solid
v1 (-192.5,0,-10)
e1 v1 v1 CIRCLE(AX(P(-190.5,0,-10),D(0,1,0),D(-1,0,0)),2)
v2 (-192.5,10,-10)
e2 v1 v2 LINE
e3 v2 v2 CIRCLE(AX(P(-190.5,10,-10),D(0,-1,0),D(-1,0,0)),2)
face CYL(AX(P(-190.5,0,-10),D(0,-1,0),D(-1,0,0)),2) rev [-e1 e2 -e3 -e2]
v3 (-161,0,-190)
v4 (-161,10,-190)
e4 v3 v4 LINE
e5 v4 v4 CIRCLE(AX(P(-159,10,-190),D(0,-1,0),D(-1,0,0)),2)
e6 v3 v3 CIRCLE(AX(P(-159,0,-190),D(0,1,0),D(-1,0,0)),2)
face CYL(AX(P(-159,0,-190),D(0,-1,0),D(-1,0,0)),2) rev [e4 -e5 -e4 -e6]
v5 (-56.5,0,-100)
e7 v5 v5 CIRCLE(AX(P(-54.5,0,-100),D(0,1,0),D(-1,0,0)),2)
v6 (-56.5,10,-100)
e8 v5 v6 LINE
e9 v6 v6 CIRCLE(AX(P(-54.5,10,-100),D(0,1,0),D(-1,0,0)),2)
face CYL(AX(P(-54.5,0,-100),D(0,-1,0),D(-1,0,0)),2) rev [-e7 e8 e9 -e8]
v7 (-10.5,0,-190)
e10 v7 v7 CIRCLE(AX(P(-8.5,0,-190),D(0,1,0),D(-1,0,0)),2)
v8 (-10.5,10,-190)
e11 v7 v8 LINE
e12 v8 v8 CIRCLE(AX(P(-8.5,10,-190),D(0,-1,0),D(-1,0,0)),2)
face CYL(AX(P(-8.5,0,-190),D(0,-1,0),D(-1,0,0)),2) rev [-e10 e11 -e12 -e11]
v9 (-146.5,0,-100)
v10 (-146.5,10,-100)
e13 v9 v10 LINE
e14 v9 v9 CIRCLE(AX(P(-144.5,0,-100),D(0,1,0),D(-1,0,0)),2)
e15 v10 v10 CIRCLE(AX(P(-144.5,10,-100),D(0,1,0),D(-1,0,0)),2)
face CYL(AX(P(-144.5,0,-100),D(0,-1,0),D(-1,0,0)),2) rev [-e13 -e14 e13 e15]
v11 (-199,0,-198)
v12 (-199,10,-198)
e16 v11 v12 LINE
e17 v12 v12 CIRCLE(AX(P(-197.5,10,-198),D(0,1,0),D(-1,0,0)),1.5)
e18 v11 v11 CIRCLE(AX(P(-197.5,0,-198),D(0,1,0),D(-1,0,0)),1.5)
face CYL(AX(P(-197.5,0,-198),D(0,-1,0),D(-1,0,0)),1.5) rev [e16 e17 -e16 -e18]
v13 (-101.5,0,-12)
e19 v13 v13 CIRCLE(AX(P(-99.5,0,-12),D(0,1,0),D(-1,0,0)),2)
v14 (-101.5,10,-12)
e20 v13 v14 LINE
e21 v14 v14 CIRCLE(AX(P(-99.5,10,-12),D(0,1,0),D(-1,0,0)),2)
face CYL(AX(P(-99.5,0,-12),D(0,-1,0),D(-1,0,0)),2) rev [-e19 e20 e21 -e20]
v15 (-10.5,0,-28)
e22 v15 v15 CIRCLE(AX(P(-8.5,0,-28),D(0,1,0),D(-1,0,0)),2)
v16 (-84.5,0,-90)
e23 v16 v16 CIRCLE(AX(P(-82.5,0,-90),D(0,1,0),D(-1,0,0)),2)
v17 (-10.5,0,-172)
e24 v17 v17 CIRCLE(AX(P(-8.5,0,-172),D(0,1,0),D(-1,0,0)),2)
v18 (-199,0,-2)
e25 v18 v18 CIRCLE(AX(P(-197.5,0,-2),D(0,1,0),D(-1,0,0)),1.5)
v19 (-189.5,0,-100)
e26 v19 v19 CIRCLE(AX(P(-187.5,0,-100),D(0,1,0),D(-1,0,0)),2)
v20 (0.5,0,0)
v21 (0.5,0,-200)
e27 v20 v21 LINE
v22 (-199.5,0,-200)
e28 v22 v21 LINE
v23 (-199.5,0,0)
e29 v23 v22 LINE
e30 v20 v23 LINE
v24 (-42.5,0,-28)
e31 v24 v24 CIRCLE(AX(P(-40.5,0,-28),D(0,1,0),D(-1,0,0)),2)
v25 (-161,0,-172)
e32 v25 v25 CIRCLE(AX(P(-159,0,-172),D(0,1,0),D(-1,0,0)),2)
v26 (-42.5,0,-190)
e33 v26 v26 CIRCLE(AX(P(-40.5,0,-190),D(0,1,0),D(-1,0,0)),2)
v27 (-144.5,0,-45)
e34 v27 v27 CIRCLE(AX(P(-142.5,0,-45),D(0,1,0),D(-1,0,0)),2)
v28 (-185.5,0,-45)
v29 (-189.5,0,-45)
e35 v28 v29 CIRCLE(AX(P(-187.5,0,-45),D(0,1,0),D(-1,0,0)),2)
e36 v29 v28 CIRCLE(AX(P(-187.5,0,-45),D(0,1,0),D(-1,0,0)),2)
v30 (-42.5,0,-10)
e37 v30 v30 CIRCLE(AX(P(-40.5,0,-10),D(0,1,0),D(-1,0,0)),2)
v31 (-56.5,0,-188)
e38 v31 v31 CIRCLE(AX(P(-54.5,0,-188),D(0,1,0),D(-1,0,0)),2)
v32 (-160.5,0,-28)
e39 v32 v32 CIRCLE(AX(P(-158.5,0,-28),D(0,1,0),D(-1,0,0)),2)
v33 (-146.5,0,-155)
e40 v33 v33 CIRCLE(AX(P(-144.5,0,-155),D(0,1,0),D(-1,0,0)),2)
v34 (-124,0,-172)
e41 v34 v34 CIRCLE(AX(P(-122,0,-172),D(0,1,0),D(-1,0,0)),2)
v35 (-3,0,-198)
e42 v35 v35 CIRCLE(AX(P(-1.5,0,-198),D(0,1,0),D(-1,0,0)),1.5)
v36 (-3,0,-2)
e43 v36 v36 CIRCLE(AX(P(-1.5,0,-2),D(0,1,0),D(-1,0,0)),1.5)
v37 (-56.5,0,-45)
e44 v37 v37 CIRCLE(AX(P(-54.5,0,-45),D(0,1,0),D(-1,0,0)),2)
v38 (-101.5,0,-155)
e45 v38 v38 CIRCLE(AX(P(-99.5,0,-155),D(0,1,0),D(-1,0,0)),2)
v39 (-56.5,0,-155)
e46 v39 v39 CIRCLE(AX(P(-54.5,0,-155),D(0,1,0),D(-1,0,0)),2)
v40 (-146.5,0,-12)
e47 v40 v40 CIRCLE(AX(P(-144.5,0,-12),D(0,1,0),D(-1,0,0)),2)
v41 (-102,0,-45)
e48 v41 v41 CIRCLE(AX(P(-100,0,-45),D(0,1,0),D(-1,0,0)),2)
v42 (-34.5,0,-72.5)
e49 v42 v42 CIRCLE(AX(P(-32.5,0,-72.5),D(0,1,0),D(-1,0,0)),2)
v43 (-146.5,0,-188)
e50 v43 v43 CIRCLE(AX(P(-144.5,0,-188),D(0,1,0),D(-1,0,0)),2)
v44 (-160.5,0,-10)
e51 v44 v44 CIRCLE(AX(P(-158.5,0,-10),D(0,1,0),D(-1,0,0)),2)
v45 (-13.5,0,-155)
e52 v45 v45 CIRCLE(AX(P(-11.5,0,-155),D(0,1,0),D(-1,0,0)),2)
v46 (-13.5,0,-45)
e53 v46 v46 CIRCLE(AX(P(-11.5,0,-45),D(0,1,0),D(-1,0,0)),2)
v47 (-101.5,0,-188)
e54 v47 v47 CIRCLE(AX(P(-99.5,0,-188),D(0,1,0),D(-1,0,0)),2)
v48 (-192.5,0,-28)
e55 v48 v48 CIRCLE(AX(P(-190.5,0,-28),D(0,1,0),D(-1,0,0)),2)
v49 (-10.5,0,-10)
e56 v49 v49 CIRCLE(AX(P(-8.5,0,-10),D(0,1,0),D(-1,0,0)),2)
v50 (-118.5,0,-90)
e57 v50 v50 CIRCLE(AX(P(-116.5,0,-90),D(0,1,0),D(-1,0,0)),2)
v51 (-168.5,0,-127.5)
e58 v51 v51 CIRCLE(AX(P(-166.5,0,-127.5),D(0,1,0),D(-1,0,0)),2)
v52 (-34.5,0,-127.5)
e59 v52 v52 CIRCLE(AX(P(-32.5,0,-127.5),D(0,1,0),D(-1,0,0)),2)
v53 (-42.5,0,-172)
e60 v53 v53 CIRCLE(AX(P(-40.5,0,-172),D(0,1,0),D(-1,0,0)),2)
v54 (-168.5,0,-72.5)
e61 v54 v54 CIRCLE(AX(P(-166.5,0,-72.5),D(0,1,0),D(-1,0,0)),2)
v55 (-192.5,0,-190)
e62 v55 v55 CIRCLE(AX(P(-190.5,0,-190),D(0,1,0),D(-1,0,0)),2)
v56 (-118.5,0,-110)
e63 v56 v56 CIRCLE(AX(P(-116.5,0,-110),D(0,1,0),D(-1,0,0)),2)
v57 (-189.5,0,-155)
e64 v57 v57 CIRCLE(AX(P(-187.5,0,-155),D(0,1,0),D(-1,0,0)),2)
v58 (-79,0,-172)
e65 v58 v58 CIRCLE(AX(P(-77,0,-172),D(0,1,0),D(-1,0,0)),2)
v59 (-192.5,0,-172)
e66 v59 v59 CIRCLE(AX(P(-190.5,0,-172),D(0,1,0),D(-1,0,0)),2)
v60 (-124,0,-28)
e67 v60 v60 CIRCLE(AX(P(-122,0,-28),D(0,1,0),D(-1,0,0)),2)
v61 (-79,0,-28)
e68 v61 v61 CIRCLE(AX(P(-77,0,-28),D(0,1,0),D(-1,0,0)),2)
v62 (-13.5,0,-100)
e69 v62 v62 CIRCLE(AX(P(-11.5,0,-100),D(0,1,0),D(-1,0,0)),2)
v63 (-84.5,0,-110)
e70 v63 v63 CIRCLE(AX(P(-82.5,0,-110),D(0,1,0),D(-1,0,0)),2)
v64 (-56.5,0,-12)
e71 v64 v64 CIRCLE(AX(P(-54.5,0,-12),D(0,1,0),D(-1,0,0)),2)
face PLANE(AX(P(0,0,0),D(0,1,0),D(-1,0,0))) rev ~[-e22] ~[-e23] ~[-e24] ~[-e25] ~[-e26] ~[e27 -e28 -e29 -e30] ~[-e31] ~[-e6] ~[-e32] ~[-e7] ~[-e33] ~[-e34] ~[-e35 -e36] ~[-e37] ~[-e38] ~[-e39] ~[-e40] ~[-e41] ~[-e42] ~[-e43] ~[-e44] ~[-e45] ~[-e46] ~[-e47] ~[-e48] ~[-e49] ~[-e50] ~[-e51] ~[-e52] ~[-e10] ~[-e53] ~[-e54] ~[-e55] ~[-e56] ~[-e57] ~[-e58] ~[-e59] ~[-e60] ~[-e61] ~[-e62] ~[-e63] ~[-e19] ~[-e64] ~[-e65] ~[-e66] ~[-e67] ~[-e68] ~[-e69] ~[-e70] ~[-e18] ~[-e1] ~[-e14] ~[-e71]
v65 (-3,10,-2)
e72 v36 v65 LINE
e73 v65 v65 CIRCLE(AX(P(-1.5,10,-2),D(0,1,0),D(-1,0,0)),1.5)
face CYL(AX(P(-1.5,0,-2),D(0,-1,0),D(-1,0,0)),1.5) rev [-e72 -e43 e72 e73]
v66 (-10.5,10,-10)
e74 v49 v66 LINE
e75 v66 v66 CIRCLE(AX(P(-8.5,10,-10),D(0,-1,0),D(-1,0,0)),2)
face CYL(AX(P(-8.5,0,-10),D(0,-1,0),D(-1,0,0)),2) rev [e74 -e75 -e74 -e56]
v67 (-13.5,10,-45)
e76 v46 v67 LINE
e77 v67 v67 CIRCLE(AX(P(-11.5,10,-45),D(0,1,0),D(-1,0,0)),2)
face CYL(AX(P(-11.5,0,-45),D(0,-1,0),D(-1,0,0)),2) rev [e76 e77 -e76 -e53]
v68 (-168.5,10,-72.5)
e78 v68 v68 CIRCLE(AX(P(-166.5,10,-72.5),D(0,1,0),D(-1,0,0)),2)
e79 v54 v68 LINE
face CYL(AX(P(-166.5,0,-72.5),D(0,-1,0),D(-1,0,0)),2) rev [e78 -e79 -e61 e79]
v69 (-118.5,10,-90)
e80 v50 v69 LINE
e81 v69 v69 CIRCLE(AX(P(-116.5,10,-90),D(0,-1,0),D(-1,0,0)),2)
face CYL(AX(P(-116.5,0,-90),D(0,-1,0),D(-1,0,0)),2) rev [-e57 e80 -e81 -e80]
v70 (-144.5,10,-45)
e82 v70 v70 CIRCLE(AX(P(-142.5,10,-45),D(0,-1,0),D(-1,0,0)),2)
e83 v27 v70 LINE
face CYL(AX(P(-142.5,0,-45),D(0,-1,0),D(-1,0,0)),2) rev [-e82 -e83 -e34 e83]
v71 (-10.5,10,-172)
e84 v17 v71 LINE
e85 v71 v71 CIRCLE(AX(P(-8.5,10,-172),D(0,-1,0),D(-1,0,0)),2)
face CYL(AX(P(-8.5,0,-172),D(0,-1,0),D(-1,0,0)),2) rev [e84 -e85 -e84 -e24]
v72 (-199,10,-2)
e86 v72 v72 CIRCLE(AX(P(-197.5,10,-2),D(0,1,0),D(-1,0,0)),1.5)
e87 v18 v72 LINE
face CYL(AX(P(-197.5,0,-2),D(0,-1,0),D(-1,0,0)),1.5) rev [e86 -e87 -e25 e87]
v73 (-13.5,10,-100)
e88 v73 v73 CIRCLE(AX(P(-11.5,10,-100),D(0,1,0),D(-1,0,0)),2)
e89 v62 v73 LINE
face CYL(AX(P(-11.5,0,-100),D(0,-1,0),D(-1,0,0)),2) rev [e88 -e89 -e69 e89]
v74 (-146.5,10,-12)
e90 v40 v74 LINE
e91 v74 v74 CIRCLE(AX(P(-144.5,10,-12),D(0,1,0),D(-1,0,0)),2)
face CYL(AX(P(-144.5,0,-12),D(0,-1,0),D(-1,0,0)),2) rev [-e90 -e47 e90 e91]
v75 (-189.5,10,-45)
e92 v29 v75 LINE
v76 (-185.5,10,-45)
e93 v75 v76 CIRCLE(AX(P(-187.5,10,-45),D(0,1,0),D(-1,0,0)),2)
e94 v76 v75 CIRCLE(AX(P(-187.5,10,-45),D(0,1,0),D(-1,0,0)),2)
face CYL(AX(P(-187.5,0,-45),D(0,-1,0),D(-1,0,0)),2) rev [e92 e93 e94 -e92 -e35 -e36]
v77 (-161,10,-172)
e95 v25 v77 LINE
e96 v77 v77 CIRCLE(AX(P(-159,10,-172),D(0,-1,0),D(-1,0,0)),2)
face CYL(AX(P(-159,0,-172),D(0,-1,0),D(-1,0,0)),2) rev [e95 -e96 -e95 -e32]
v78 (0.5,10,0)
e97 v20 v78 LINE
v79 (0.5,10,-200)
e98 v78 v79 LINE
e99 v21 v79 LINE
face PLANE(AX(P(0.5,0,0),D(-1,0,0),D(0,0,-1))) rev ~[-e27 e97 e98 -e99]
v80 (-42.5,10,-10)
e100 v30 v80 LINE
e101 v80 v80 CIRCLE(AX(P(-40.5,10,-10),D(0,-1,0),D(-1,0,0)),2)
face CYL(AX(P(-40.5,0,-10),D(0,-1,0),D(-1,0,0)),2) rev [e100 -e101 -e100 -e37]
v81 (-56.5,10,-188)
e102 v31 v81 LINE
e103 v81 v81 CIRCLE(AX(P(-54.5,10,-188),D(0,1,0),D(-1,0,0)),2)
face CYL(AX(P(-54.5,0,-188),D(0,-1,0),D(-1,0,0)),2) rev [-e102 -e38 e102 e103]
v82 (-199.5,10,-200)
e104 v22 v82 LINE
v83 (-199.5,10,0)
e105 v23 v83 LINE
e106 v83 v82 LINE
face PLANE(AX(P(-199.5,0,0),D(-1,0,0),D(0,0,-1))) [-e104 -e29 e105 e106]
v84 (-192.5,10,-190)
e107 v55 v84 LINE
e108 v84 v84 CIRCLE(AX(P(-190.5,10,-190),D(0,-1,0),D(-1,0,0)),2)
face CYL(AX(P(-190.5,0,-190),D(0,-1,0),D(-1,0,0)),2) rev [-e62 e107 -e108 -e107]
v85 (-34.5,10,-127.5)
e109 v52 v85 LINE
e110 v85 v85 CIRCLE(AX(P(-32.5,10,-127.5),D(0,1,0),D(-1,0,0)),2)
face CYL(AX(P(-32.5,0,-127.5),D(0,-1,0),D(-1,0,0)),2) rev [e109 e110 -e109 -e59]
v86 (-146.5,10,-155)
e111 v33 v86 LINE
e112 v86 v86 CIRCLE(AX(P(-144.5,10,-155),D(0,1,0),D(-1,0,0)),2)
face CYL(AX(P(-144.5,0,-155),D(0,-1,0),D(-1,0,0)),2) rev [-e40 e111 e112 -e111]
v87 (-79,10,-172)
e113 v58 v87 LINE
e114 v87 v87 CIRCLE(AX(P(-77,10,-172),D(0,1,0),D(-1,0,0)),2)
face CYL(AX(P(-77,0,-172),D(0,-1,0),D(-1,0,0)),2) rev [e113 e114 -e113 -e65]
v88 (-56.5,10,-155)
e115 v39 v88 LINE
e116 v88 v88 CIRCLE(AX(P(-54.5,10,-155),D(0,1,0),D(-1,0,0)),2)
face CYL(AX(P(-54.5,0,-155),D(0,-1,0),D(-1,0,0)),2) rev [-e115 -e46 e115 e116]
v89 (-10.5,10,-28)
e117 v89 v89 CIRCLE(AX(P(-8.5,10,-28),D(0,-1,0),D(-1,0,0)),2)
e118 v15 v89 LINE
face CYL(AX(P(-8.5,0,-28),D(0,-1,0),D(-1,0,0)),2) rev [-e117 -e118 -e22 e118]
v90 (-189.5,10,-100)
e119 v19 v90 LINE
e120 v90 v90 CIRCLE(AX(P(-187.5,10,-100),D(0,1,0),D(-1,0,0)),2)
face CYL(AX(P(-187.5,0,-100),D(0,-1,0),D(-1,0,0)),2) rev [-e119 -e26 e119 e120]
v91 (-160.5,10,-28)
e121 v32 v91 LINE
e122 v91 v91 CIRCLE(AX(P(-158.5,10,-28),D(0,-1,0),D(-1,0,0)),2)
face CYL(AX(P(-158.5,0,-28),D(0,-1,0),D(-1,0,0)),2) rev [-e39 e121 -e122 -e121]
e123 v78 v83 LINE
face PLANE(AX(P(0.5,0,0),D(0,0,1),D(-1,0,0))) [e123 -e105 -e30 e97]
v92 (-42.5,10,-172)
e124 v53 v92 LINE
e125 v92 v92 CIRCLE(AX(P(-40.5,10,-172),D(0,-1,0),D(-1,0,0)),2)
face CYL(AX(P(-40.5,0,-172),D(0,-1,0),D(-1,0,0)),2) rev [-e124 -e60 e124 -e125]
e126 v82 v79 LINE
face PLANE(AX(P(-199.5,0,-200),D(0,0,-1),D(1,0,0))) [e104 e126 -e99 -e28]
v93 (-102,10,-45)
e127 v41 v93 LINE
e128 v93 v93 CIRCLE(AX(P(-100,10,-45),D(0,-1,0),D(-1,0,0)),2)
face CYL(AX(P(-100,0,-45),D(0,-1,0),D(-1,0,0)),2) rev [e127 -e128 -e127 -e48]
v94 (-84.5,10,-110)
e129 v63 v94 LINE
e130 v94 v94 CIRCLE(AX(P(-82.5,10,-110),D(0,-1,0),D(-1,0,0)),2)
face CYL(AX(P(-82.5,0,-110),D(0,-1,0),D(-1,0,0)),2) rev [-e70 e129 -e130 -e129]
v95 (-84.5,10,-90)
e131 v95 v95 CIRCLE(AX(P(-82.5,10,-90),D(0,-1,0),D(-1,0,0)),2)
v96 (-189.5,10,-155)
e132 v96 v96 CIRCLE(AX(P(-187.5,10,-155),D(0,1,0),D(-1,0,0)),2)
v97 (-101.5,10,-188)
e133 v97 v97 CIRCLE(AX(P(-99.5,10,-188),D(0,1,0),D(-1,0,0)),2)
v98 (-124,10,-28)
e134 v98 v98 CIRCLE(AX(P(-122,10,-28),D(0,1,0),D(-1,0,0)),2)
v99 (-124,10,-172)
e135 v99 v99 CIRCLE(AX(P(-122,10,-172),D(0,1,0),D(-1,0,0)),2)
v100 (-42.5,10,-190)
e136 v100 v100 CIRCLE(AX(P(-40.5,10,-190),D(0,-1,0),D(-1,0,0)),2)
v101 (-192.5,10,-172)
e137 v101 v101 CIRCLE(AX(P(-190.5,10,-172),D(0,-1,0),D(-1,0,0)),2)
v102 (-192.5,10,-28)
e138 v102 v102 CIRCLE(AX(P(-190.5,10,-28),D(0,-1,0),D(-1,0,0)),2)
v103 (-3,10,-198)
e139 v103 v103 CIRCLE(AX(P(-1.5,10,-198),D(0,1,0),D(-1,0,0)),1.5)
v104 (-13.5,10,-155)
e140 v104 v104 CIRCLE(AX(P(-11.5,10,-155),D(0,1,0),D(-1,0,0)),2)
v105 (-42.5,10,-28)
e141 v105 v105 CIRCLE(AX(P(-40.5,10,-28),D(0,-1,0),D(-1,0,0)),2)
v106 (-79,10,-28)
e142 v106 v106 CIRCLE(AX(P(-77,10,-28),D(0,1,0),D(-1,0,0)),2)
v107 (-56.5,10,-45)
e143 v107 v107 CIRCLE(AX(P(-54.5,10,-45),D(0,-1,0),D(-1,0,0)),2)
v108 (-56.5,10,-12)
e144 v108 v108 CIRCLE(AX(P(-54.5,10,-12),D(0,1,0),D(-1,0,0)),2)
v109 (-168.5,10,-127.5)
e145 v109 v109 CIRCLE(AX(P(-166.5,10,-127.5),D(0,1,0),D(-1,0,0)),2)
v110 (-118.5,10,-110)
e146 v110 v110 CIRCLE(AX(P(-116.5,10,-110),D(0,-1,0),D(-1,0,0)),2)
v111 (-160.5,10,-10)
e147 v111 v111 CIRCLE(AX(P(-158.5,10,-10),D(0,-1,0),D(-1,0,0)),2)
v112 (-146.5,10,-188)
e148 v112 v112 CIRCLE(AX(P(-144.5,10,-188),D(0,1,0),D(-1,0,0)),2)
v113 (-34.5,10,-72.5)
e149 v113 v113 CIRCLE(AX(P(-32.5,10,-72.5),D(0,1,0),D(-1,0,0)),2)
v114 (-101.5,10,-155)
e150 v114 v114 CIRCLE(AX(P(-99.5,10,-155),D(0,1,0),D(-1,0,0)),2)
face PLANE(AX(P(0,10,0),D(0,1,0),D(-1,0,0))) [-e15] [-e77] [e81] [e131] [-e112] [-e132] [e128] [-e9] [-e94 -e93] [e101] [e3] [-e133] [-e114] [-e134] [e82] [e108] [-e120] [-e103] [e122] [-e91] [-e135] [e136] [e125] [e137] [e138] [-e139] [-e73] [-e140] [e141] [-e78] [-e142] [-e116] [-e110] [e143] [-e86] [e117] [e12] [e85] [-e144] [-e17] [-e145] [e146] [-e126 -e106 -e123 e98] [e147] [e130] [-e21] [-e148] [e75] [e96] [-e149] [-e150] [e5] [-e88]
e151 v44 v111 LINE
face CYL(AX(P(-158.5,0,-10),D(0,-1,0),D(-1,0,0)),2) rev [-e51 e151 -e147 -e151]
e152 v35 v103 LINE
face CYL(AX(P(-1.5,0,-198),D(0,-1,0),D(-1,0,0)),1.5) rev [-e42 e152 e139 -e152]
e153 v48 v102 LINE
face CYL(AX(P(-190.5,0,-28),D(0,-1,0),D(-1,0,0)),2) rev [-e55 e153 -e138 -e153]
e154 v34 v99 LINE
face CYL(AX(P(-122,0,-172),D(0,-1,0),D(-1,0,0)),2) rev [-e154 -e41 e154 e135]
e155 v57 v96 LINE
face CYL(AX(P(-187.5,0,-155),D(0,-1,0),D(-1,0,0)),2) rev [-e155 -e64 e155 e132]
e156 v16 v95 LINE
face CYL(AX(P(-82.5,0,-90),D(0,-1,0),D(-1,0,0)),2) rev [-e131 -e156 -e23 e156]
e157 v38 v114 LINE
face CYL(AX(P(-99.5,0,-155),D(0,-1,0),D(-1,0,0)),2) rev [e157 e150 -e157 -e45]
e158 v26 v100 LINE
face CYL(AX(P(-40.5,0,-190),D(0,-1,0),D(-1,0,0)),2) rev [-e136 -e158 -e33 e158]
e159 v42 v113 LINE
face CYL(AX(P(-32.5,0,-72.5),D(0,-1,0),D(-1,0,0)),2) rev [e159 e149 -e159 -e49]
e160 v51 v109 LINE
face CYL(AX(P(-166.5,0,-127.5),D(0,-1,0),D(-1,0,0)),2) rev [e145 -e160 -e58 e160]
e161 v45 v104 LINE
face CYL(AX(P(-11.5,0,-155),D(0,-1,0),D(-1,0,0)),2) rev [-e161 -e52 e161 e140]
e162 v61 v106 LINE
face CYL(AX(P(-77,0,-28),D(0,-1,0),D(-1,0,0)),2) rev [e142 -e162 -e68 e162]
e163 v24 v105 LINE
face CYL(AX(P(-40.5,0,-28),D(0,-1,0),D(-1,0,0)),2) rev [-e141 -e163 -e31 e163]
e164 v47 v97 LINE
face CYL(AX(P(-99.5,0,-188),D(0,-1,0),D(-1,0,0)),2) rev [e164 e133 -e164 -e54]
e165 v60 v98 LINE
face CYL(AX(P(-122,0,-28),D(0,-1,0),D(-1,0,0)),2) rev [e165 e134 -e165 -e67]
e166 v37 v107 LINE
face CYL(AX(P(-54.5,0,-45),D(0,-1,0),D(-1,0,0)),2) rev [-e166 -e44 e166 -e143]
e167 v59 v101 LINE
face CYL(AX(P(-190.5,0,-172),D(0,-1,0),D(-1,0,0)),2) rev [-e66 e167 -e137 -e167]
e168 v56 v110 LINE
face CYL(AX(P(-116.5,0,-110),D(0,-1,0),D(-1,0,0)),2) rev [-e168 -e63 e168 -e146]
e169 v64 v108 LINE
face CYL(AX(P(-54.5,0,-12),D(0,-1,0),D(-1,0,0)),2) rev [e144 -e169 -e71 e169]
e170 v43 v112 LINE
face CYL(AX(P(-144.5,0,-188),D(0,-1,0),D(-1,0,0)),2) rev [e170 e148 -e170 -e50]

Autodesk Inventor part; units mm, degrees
ref_plane "YZ Plane" through (0, 0, 0) normal (1, 0, 0) x (0, 1, 0)
ref_plane "XZ Plane" through (0, 0, 0) normal (0, 1, 0) x (-1, 0, 0)
ref_plane "XY Plane" through (0, 0, 0) normal (0, 0, 1) x (1, 0, 0)
sketch "Boceto1" plane through (0, 0, 0) normal (0, 1, 0) x (-1, 0, 0)
  line L0 (-0.5, 0) -> (199.5, 0)
  line L1 (199.5, 0) -> (199.5, -200)
  line L2 (199.5, -200) -> (-0.5, -200)
  line L3 (-0.5, 0) -> (-0.5, -200)
  line L4 (175, -50) -> (175, -150)
  line L5 (175, -150) -> (25, -150)
  line L6 (25, -150) -> (25, -50)
  line L7 (50, -175) -> (50, -25)
  line L8 (150, -175) -> (50, -175)
  line L9 (150, -25) -> (150, -175)
  line L10 (50, -25) -> (150, -25)
  line L11 (154.5, -5) -> (194.5, -5)
  line L12 (154.5, -5) -> (154.5, -33)
  line L13 (154.5, -33) -> (194.5, -33)
  line L14 (194.5, -33) -> (194.5, -5)
  line L15 (99.5, -100) -> (99.5, -105)
  line L16 (99.5, -105) -> (99.5, -95)
  line L17 (99.5, -95) -> (99.5, -100)
  line L18 (99.5, -100) -> (94.5, -100)
  line L19 (94.5, -100) -> (104.5, -100)
  line L20 (99.5, -100) -> (79.5, -100)
  line L21 (79.5, -100) -> (120.5, -100)
  line L22 (120.5, -100) -> (120.5, -120)
  line L23 (120.5, -120) -> (120.5, -80)
  line L24 (120.5, -80) -> (78.5, -80)
  line L25 (78.5, -80) -> (78.5, -120)
  line L26 (78.5, -120) -> (120.5, -120)
  line L27 (78.5, -80) -> (82.5, -80)
  line L28 (82.5, -80) -> (82.5, -120)
  line L29 (120.5, -120) -> (116.5, -120)
  line L30 (116.5, -120) -> (116.5, -80)
  line L31 (82.5, -80) -> (82.5, -90)
  line L32 (82.5, -90) -> (116.5, -90)
  line L33 (82.5, -120) -> (82.5, -110)
  line L34 (82.5, -110) -> (116.5, -110)
  circle A0 centre (82.5, -90) radius 2
  circle A1 centre (82.5, -110) radius 2
  circle A2 centre (116.5, -110) radius 2
  circle A3 centre (116.5, -90) radius 2
  line L35 (194.5, -5) -> (190.5, -5)
  line L36 (190.5, -5) -> (190.5, -33)
  line L37 (154.5, -5) -> (158.5, -5)
  line L38 (158.5, -5) -> (158.5, -33)
  line L39 (158.5, -5) -> (158.5, -10)
  line L40 (158.5, -33) -> (158.5, -28)
  line L41 (158.5, -28) -> (190.5, -28)
  line L42 (158.5, -10) -> (190.5, -10)
  circle A4 centre (190.5, -10) radius 2
  circle A5 centre (158.5, -10) radius 2
  circle A6 centre (158.5, -28) radius 2
  circle A7 centre (190.5, -28) radius 2
  line L43 (44.5, -5) -> (4.5, -5)
  line L44 (44.5, -5) -> (44.5, -33)
  line L45 (44.5, -33) -> (4.5, -33)
  line L46 (4.5, -33) -> (4.5, -5)
  line L47 (4.5, -5) -> (8.5, -5)
  line L48 (8.5, -5) -> (8.5, -33)
  line L49 (44.5, -5) -> (40.5, -5)
  line L50 (40.5, -5) -> (40.5, -33)
  line L51 (40.5, -5) -> (40.5, -10)
  line L52 (40.5, -33) -> (40.5, -28)
  line L53 (40.5, -28) -> (8.5, -28)
  line L54 (40.5, -10) -> (8.5, -10)
  circle A8 centre (8.5, -10) radius 2
  circle A9 centre (40.5, -10) radius 2
  circle A10 centre (40.5, -28) radius 2
  circle A11 centre (8.5, -28) radius 2
  line L55 (155, -195) -> (194.5, -195)
  line L56 (155, -195) -> (155, -167)
  line L57 (155, -167) -> (194.5, -167)
  line L58 (194.5, -167) -> (194.5, -195)
  line L59 (194.5, -195) -> (190.5, -195)
  line L60 (190.5, -195) -> (190.5, -167)
  line L61 (155, -195) -> (159, -195)
  line L62 (159, -195) -> (159, -167)
  line L63 (159, -195) -> (159, -190)
  line L64 (159, -167) -> (159, -172)
  line L65 (159, -172) -> (190.5, -172)
  line L66 (159, -190) -> (190.5, -190)
  circle A12 centre (190.5, -190) radius 2
  circle A13 centre (159, -190) radius 2
  circle A14 centre (159, -172) radius 2
  circle A15 centre (190.5, -172) radius 2
  line L67 (44.5, -195) -> (4.5, -195)
  line L68 (44.5, -195) -> (44.5, -167)
  circle A16 centre (40.5, -172) radius 2
  line L69 (44.5, -167) -> (4.5, -167)
  line L70 (4.5, -167) -> (4.5, -195)
  line L71 (40.5, -167) -> (40.5, -172)
  circle A17 centre (40.5, -190) radius 2
  line L72 (40.5, -195) -> (40.5, -167)
  line L73 (40.5, -195) -> (40.5, -190)
  line L74 (40.5, -172) -> (8.5, -172)
  circle A18 centre (8.5, -172) radius 2
  line L75 (40.5, -190) -> (8.5, -190)
  line L76 (8.5, -195) -> (8.5, -167)
  circle A19 centre (8.5, -190) radius 2
  line L77 (4.5, -195) -> (8.5, -195)
  line L78 (44.5, -195) -> (40.5, -195)
  circle A20 centre (187.5, -45) radius 2
  circle A21 centre (187.5, -100) radius 2
  circle A22 centre (187.5, -155) radius 2
  circle A23 centre (144.5, -188) radius 2
  circle A24 centre (99.5, -188) radius 2
  circle A25 centre (54.5, -188) radius 2
  circle A26 centre (11.5, -45) radius 2
  circle A27 centre (11.5, -100) radius 2
  circle A28 centre (11.5, -155) radius 2
  circle A29 centre (144.5, -12) radius 2
  circle A30 centre (99.5, -12) radius 2
  circle A31 centre (54.5, -12) radius 2
  circle A32 centre (144.5, -155) radius 2
  circle A33 centre (142.5, -45) radius 2
  circle A34 centre (54.5, -45) radius 2
  circle A35 centre (54.5, -100) radius 2
  circle A36 centre (144.5, -100) radius 2
  circle A37 centre (54.5, -155) radius 2
  circle A38 centre (99.5, -155) radius 2
  circle A39 centre (100, -45) radius 2
  circle A40 centre (197.5, -198) radius 1.5
  circle A41 centre (197.5, -2) radius 1.5
  circle A42 centre (1.5, -2) radius 1.5
  circle A43 centre (1.5, -198) radius 1.5
  line L79 (187.5, -45) -> (11.5, -45)
  circle A44 centre (122, -172) radius 2
  circle A45 centre (166.5, -127.5) radius 2
  circle A46 centre (166.5, -72.5) radius 2
  circle A47 centre (77, -172) radius 2
  circle A48 centre (32.5, -127.5) radius 2
  circle A49 centre (32.5, -72.5) radius 2
  circle A50 centre (122, -28) radius 2
  circle A51 centre (77, -28) radius 2
  point P0 (0, 0)
  dimension "d0" = 200
  dimension "d1" = 200
  dimension "d2" = 200
  dimension "d6" = 100
  dimension "d7" = 150
  dimension "d8" = 100
  dimension "d30" = 28
  dimension "d98" = 4
  dimension "d99" = 4
  dimension "d100" = 10
  dimension "d101" = 10
  dimension "d102" = 4
  dimension "d103" = 4
  dimension "d104" = 4
  dimension "d105" = 4
  dimension "d116" = 4
  dimension "d117" = 4
  dimension "d118" = 5
  dimension "d119" = 5
  dimension "d120" = 4
  dimension "d121" = 4
  dimension "d122" = 4
  dimension "d123" = 4
  dimension "d124" = 5
  dimension "d166" = 20
  dimension "d167" = 20
  dimension "d236" = 21
  dimension "d237" = 100
  dimension "d238" = 21
  dimension "d264" = 4
  dimension "d265" = 4
  dimension "d266" = 4
  dimension "d267" = 4
  dimension "d268" = 4
  dimension "d269" = 4
  dimension "d270" = 12
  dimension "d271" = 12
  dimension "d272" = 12
  dimension "d273" = 100
  dimension "d274" = 55
  dimension "d275" = 55
  dimension "d276" = 12
  dimension "d277" = 12
  dimension "d278" = 100
  dimension "d279" = 45
  dimension "d280" = 45
  dimension "d284" = 4
  dimension "d285" = 4
  dimension "d286" = 4
  dimension "d287" = 4
  dimension "d288" = 4
  dimension "d289" = 4
  dimension "d290" = 4
  dimension "d291" = 4
  dimension "d312" = 3
  dimension "d313" = 2
  dimension "d314" = 2
  dimension "d315" = 3
  dimension "d316" = 3
  dimension "d317" = 3
  dimension "d318" = 2
  dimension "d319" = 2
  dimension "d320" = 2
  dimension "d321" = 2
extrude "Extrusión1" add sketch "Boceto1" along normal blind 10 contours L0 L1 L2 L3 | L9 L8 L7 L5 | L5 L7 L79 A34 A39 A33 L9 | L79 A33 A39 A34 L7 L10 L9 | L11 L38 A5 A6 L13 L12 | L11 L36 A4 L42 A5 L38 | L11 L14 L13 L36 A7 A4 | L38 A6 L41 A7 L36 L13 | L42 A4 L36 A7 L41 A6 L38 A5 | L19 L21 L30 A2 L34 A1 L28 L20 L18 | L18 L20 L28 A0 L32 A3 L30 L21 L19 | L28 A1 L26 L25 L24 A0 | L30 A3 L24 L23 L21 | L21 L22 L26 L30 A2 | L28 L24 L30 A3 L32 A0 | L34 A2 L30 L26 L28 A1 | L44 L45 L50 A10 A9 L43 | L50 A9 L54 A8 L48 L43 | L48 A8 A11 L45 L46 L43 | L45 L48 A11 L53 A10 L50 | A9 L50 A10 L53 A11 L48 A8 L54 | L56 L57 L62 A14 A13 L55 | L62 A13 L66 A12 L60 L55 | L60 A12 A15 L57 L58 L55 | L57 L60 A15 L65 A14 L62 | L62 A14 L65 A15 L60 A12 L66 A13 | L67 L72 A17 A16 L71 L69 L68 | L67 L76 A19 L75 A17 L72 | L67 L70 L69 L76 A18 A19 | L71 A16 L74 A18 L76 L69 | L75 A19 L76 A18 L74 A16 L72 A17
thread "Rosca46" size "M4x0.7" class "6H" standard "ISO Metric profile" length 10
thread "Rosca47" size "M3x0.5" class "6H" standard "ISO Metric profile" length 10
thread "Rosca48" size "M4x0.7" class "6H" standard "ISO Metric profile" length 10
thread "Rosca49" size "M4x0.7" class "6H" standard "ISO Metric profile" length 10
thread "Rosca50" size "M4x0.7" class "6H" standard "ISO Metric profile" length 10
thread "Rosca51" size "M4x0.7" class "6H" standard "ISO Metric profile" length 10
thread "Rosca52" size "M4x0.7" class "6H" standard "ISO Metric profile" length 10
thread "Rosca53" size "M4x0.7" class "6H" standard "ISO Metric profile" length 10
thread "Rosca54" size "M4x0.7" class "6H" standard "ISO Metric profile" length 10
thread "Rosca55" size "M4x0.7" class "6H" standard "ISO Metric profile" length 10
thread "Rosca56" size "M4x0.7" class "6H" standard "ISO Metric profile" length 10
thread "Rosca57" size "M4x0.7" class "6H" standard "ISO Metric profile" length 10
thread "Rosca58" size "M4x0.7" class "6H" standard "ISO Metric profile" length 10
thread "Rosca59" size "M4x0.7" class "6H" standard "ISO Metric profile" length 10
thread "Rosca60" size "M4x0.7" class "6H" standard "ISO Metric profile" length 10
thread "Rosca61" size "M3x0.5" class "6H" standard "ISO Metric profile" length 10
thread "Rosca62" size "M4x0.7" class "6H" standard "ISO Metric profile" length 10
thread "Rosca63" size "M4x0.7" class "6H" standard "ISO Metric profile" length 10
thread "Rosca64" size "M4x0.7" class "6H" standard "ISO Metric profile" length 10
thread "Rosca65" size "M4x0.7" class "6H" standard "ISO Metric profile" length 10
thread "Rosca66" size "M4x0.7" class "6H" standard "ISO Metric profile" length 10
thread "Rosca67" size "M4x0.7" class "6H" standard "ISO Metric profile" length 10
thread "Rosca68" size "M4x0.7" class "6H" standard "ISO Metric profile" length 10
thread "Rosca69" size "M4x0.7" class "6H" standard "ISO Metric profile" length 10
thread "Rosca70" size "M4x0.7" class "6H" standard "ISO Metric profile" length 10
thread "Rosca71" size "M3x0.5" class "6H" standard "ISO Metric profile" length 10
thread "Rosca72" size "M4x0.7" class "6H" standard "ISO Metric profile" length 10
thread "Rosca73" size "M4x0.7" class "6H" standard "ISO Metric profile" length 10
thread "Rosca74" size "M4x0.7" class "6H" standard "ISO Metric profile" length 10
thread "Rosca75" size "M4x0.7" class "6H" standard "ISO Metric profile" length 10
thread "Rosca76" size "M4x0.7" class "6H" standard "ISO Metric profile" length 10
thread "Rosca77" size "M4x0.7" class "6H" standard "ISO Metric profile" length 10
thread "Rosca78" size "M4x0.7" class "6H" standard "ISO Metric profile" length 10
thread "Rosca79" size "M4x0.7" class "6H" standard "ISO Metric profile" length 10
thread "Rosca80" size "M4x0.7" class "6H" standard "ISO Metric profile" length 10
thread "Rosca81" size "M4x0.7" class "6H" standard "ISO Metric profile" length 10
thread "Rosca82" size "M4x0.7" class "6H" standard "ISO Metric profile" length 10
thread "Rosca83" size "M3x0.5" class "6H" standard "ISO Metric profile" length 10
thread "Rosca84" size "M4x0.7" class "6H" standard "ISO Metric profile" length 10
thread "Rosca85" size "M4x0.7" class "6H" standard "ISO Metric profile" length 10
thread "Rosca86" size "M4x0.7" class "6H" standard "ISO Metric profile" length 10
thread "Rosca87" size "M4x0.7" class "6H" standard "ISO Metric profile" length 10
thread "Rosca88" size "M4x0.7" class "6H" standard "ISO Metric profile" length 10
thread "Rosca89" size "M4x0.7" class "6H" standard "ISO Metric profile" length 10
sketch "Boceto3" plane through (0, 10, 0) normal (0, 1, 0) x (1, 0, 0)
  circle A0 centre (-54.5, 12) radius 2 projected
  point P0 (0, 0)
thread "Thread90" size "M4x0.7" class "6H" standard "ISO Metric profile" length 25
thread "Thread91" size "M4x0.7" class "6H" standard "ISO Metric profile" length 25
thread "Thread92" size "M4x0.7" class "6H" standard "ANSI Metric M Profile" length 25
thread "Thread93" size "M4x0.7" class "6H" standard "ISO Metric profile" length 25
thread "Thread94" size "M4x0.7" class "6H" standard "ISO Metric profile" length 25
thread "Thread95" size "M4x0.7" class "6H" standard "ISO Metric profile" length 25
thread "Thread96" size "M4x0.7" class "6H" standard "ISO Metric profile" length 25
thread "Thread97" size "M4x0.7" class "6H" standard "ISO Metric profile" length 25
properties part number "Mesa" material "Steel, Mild"
